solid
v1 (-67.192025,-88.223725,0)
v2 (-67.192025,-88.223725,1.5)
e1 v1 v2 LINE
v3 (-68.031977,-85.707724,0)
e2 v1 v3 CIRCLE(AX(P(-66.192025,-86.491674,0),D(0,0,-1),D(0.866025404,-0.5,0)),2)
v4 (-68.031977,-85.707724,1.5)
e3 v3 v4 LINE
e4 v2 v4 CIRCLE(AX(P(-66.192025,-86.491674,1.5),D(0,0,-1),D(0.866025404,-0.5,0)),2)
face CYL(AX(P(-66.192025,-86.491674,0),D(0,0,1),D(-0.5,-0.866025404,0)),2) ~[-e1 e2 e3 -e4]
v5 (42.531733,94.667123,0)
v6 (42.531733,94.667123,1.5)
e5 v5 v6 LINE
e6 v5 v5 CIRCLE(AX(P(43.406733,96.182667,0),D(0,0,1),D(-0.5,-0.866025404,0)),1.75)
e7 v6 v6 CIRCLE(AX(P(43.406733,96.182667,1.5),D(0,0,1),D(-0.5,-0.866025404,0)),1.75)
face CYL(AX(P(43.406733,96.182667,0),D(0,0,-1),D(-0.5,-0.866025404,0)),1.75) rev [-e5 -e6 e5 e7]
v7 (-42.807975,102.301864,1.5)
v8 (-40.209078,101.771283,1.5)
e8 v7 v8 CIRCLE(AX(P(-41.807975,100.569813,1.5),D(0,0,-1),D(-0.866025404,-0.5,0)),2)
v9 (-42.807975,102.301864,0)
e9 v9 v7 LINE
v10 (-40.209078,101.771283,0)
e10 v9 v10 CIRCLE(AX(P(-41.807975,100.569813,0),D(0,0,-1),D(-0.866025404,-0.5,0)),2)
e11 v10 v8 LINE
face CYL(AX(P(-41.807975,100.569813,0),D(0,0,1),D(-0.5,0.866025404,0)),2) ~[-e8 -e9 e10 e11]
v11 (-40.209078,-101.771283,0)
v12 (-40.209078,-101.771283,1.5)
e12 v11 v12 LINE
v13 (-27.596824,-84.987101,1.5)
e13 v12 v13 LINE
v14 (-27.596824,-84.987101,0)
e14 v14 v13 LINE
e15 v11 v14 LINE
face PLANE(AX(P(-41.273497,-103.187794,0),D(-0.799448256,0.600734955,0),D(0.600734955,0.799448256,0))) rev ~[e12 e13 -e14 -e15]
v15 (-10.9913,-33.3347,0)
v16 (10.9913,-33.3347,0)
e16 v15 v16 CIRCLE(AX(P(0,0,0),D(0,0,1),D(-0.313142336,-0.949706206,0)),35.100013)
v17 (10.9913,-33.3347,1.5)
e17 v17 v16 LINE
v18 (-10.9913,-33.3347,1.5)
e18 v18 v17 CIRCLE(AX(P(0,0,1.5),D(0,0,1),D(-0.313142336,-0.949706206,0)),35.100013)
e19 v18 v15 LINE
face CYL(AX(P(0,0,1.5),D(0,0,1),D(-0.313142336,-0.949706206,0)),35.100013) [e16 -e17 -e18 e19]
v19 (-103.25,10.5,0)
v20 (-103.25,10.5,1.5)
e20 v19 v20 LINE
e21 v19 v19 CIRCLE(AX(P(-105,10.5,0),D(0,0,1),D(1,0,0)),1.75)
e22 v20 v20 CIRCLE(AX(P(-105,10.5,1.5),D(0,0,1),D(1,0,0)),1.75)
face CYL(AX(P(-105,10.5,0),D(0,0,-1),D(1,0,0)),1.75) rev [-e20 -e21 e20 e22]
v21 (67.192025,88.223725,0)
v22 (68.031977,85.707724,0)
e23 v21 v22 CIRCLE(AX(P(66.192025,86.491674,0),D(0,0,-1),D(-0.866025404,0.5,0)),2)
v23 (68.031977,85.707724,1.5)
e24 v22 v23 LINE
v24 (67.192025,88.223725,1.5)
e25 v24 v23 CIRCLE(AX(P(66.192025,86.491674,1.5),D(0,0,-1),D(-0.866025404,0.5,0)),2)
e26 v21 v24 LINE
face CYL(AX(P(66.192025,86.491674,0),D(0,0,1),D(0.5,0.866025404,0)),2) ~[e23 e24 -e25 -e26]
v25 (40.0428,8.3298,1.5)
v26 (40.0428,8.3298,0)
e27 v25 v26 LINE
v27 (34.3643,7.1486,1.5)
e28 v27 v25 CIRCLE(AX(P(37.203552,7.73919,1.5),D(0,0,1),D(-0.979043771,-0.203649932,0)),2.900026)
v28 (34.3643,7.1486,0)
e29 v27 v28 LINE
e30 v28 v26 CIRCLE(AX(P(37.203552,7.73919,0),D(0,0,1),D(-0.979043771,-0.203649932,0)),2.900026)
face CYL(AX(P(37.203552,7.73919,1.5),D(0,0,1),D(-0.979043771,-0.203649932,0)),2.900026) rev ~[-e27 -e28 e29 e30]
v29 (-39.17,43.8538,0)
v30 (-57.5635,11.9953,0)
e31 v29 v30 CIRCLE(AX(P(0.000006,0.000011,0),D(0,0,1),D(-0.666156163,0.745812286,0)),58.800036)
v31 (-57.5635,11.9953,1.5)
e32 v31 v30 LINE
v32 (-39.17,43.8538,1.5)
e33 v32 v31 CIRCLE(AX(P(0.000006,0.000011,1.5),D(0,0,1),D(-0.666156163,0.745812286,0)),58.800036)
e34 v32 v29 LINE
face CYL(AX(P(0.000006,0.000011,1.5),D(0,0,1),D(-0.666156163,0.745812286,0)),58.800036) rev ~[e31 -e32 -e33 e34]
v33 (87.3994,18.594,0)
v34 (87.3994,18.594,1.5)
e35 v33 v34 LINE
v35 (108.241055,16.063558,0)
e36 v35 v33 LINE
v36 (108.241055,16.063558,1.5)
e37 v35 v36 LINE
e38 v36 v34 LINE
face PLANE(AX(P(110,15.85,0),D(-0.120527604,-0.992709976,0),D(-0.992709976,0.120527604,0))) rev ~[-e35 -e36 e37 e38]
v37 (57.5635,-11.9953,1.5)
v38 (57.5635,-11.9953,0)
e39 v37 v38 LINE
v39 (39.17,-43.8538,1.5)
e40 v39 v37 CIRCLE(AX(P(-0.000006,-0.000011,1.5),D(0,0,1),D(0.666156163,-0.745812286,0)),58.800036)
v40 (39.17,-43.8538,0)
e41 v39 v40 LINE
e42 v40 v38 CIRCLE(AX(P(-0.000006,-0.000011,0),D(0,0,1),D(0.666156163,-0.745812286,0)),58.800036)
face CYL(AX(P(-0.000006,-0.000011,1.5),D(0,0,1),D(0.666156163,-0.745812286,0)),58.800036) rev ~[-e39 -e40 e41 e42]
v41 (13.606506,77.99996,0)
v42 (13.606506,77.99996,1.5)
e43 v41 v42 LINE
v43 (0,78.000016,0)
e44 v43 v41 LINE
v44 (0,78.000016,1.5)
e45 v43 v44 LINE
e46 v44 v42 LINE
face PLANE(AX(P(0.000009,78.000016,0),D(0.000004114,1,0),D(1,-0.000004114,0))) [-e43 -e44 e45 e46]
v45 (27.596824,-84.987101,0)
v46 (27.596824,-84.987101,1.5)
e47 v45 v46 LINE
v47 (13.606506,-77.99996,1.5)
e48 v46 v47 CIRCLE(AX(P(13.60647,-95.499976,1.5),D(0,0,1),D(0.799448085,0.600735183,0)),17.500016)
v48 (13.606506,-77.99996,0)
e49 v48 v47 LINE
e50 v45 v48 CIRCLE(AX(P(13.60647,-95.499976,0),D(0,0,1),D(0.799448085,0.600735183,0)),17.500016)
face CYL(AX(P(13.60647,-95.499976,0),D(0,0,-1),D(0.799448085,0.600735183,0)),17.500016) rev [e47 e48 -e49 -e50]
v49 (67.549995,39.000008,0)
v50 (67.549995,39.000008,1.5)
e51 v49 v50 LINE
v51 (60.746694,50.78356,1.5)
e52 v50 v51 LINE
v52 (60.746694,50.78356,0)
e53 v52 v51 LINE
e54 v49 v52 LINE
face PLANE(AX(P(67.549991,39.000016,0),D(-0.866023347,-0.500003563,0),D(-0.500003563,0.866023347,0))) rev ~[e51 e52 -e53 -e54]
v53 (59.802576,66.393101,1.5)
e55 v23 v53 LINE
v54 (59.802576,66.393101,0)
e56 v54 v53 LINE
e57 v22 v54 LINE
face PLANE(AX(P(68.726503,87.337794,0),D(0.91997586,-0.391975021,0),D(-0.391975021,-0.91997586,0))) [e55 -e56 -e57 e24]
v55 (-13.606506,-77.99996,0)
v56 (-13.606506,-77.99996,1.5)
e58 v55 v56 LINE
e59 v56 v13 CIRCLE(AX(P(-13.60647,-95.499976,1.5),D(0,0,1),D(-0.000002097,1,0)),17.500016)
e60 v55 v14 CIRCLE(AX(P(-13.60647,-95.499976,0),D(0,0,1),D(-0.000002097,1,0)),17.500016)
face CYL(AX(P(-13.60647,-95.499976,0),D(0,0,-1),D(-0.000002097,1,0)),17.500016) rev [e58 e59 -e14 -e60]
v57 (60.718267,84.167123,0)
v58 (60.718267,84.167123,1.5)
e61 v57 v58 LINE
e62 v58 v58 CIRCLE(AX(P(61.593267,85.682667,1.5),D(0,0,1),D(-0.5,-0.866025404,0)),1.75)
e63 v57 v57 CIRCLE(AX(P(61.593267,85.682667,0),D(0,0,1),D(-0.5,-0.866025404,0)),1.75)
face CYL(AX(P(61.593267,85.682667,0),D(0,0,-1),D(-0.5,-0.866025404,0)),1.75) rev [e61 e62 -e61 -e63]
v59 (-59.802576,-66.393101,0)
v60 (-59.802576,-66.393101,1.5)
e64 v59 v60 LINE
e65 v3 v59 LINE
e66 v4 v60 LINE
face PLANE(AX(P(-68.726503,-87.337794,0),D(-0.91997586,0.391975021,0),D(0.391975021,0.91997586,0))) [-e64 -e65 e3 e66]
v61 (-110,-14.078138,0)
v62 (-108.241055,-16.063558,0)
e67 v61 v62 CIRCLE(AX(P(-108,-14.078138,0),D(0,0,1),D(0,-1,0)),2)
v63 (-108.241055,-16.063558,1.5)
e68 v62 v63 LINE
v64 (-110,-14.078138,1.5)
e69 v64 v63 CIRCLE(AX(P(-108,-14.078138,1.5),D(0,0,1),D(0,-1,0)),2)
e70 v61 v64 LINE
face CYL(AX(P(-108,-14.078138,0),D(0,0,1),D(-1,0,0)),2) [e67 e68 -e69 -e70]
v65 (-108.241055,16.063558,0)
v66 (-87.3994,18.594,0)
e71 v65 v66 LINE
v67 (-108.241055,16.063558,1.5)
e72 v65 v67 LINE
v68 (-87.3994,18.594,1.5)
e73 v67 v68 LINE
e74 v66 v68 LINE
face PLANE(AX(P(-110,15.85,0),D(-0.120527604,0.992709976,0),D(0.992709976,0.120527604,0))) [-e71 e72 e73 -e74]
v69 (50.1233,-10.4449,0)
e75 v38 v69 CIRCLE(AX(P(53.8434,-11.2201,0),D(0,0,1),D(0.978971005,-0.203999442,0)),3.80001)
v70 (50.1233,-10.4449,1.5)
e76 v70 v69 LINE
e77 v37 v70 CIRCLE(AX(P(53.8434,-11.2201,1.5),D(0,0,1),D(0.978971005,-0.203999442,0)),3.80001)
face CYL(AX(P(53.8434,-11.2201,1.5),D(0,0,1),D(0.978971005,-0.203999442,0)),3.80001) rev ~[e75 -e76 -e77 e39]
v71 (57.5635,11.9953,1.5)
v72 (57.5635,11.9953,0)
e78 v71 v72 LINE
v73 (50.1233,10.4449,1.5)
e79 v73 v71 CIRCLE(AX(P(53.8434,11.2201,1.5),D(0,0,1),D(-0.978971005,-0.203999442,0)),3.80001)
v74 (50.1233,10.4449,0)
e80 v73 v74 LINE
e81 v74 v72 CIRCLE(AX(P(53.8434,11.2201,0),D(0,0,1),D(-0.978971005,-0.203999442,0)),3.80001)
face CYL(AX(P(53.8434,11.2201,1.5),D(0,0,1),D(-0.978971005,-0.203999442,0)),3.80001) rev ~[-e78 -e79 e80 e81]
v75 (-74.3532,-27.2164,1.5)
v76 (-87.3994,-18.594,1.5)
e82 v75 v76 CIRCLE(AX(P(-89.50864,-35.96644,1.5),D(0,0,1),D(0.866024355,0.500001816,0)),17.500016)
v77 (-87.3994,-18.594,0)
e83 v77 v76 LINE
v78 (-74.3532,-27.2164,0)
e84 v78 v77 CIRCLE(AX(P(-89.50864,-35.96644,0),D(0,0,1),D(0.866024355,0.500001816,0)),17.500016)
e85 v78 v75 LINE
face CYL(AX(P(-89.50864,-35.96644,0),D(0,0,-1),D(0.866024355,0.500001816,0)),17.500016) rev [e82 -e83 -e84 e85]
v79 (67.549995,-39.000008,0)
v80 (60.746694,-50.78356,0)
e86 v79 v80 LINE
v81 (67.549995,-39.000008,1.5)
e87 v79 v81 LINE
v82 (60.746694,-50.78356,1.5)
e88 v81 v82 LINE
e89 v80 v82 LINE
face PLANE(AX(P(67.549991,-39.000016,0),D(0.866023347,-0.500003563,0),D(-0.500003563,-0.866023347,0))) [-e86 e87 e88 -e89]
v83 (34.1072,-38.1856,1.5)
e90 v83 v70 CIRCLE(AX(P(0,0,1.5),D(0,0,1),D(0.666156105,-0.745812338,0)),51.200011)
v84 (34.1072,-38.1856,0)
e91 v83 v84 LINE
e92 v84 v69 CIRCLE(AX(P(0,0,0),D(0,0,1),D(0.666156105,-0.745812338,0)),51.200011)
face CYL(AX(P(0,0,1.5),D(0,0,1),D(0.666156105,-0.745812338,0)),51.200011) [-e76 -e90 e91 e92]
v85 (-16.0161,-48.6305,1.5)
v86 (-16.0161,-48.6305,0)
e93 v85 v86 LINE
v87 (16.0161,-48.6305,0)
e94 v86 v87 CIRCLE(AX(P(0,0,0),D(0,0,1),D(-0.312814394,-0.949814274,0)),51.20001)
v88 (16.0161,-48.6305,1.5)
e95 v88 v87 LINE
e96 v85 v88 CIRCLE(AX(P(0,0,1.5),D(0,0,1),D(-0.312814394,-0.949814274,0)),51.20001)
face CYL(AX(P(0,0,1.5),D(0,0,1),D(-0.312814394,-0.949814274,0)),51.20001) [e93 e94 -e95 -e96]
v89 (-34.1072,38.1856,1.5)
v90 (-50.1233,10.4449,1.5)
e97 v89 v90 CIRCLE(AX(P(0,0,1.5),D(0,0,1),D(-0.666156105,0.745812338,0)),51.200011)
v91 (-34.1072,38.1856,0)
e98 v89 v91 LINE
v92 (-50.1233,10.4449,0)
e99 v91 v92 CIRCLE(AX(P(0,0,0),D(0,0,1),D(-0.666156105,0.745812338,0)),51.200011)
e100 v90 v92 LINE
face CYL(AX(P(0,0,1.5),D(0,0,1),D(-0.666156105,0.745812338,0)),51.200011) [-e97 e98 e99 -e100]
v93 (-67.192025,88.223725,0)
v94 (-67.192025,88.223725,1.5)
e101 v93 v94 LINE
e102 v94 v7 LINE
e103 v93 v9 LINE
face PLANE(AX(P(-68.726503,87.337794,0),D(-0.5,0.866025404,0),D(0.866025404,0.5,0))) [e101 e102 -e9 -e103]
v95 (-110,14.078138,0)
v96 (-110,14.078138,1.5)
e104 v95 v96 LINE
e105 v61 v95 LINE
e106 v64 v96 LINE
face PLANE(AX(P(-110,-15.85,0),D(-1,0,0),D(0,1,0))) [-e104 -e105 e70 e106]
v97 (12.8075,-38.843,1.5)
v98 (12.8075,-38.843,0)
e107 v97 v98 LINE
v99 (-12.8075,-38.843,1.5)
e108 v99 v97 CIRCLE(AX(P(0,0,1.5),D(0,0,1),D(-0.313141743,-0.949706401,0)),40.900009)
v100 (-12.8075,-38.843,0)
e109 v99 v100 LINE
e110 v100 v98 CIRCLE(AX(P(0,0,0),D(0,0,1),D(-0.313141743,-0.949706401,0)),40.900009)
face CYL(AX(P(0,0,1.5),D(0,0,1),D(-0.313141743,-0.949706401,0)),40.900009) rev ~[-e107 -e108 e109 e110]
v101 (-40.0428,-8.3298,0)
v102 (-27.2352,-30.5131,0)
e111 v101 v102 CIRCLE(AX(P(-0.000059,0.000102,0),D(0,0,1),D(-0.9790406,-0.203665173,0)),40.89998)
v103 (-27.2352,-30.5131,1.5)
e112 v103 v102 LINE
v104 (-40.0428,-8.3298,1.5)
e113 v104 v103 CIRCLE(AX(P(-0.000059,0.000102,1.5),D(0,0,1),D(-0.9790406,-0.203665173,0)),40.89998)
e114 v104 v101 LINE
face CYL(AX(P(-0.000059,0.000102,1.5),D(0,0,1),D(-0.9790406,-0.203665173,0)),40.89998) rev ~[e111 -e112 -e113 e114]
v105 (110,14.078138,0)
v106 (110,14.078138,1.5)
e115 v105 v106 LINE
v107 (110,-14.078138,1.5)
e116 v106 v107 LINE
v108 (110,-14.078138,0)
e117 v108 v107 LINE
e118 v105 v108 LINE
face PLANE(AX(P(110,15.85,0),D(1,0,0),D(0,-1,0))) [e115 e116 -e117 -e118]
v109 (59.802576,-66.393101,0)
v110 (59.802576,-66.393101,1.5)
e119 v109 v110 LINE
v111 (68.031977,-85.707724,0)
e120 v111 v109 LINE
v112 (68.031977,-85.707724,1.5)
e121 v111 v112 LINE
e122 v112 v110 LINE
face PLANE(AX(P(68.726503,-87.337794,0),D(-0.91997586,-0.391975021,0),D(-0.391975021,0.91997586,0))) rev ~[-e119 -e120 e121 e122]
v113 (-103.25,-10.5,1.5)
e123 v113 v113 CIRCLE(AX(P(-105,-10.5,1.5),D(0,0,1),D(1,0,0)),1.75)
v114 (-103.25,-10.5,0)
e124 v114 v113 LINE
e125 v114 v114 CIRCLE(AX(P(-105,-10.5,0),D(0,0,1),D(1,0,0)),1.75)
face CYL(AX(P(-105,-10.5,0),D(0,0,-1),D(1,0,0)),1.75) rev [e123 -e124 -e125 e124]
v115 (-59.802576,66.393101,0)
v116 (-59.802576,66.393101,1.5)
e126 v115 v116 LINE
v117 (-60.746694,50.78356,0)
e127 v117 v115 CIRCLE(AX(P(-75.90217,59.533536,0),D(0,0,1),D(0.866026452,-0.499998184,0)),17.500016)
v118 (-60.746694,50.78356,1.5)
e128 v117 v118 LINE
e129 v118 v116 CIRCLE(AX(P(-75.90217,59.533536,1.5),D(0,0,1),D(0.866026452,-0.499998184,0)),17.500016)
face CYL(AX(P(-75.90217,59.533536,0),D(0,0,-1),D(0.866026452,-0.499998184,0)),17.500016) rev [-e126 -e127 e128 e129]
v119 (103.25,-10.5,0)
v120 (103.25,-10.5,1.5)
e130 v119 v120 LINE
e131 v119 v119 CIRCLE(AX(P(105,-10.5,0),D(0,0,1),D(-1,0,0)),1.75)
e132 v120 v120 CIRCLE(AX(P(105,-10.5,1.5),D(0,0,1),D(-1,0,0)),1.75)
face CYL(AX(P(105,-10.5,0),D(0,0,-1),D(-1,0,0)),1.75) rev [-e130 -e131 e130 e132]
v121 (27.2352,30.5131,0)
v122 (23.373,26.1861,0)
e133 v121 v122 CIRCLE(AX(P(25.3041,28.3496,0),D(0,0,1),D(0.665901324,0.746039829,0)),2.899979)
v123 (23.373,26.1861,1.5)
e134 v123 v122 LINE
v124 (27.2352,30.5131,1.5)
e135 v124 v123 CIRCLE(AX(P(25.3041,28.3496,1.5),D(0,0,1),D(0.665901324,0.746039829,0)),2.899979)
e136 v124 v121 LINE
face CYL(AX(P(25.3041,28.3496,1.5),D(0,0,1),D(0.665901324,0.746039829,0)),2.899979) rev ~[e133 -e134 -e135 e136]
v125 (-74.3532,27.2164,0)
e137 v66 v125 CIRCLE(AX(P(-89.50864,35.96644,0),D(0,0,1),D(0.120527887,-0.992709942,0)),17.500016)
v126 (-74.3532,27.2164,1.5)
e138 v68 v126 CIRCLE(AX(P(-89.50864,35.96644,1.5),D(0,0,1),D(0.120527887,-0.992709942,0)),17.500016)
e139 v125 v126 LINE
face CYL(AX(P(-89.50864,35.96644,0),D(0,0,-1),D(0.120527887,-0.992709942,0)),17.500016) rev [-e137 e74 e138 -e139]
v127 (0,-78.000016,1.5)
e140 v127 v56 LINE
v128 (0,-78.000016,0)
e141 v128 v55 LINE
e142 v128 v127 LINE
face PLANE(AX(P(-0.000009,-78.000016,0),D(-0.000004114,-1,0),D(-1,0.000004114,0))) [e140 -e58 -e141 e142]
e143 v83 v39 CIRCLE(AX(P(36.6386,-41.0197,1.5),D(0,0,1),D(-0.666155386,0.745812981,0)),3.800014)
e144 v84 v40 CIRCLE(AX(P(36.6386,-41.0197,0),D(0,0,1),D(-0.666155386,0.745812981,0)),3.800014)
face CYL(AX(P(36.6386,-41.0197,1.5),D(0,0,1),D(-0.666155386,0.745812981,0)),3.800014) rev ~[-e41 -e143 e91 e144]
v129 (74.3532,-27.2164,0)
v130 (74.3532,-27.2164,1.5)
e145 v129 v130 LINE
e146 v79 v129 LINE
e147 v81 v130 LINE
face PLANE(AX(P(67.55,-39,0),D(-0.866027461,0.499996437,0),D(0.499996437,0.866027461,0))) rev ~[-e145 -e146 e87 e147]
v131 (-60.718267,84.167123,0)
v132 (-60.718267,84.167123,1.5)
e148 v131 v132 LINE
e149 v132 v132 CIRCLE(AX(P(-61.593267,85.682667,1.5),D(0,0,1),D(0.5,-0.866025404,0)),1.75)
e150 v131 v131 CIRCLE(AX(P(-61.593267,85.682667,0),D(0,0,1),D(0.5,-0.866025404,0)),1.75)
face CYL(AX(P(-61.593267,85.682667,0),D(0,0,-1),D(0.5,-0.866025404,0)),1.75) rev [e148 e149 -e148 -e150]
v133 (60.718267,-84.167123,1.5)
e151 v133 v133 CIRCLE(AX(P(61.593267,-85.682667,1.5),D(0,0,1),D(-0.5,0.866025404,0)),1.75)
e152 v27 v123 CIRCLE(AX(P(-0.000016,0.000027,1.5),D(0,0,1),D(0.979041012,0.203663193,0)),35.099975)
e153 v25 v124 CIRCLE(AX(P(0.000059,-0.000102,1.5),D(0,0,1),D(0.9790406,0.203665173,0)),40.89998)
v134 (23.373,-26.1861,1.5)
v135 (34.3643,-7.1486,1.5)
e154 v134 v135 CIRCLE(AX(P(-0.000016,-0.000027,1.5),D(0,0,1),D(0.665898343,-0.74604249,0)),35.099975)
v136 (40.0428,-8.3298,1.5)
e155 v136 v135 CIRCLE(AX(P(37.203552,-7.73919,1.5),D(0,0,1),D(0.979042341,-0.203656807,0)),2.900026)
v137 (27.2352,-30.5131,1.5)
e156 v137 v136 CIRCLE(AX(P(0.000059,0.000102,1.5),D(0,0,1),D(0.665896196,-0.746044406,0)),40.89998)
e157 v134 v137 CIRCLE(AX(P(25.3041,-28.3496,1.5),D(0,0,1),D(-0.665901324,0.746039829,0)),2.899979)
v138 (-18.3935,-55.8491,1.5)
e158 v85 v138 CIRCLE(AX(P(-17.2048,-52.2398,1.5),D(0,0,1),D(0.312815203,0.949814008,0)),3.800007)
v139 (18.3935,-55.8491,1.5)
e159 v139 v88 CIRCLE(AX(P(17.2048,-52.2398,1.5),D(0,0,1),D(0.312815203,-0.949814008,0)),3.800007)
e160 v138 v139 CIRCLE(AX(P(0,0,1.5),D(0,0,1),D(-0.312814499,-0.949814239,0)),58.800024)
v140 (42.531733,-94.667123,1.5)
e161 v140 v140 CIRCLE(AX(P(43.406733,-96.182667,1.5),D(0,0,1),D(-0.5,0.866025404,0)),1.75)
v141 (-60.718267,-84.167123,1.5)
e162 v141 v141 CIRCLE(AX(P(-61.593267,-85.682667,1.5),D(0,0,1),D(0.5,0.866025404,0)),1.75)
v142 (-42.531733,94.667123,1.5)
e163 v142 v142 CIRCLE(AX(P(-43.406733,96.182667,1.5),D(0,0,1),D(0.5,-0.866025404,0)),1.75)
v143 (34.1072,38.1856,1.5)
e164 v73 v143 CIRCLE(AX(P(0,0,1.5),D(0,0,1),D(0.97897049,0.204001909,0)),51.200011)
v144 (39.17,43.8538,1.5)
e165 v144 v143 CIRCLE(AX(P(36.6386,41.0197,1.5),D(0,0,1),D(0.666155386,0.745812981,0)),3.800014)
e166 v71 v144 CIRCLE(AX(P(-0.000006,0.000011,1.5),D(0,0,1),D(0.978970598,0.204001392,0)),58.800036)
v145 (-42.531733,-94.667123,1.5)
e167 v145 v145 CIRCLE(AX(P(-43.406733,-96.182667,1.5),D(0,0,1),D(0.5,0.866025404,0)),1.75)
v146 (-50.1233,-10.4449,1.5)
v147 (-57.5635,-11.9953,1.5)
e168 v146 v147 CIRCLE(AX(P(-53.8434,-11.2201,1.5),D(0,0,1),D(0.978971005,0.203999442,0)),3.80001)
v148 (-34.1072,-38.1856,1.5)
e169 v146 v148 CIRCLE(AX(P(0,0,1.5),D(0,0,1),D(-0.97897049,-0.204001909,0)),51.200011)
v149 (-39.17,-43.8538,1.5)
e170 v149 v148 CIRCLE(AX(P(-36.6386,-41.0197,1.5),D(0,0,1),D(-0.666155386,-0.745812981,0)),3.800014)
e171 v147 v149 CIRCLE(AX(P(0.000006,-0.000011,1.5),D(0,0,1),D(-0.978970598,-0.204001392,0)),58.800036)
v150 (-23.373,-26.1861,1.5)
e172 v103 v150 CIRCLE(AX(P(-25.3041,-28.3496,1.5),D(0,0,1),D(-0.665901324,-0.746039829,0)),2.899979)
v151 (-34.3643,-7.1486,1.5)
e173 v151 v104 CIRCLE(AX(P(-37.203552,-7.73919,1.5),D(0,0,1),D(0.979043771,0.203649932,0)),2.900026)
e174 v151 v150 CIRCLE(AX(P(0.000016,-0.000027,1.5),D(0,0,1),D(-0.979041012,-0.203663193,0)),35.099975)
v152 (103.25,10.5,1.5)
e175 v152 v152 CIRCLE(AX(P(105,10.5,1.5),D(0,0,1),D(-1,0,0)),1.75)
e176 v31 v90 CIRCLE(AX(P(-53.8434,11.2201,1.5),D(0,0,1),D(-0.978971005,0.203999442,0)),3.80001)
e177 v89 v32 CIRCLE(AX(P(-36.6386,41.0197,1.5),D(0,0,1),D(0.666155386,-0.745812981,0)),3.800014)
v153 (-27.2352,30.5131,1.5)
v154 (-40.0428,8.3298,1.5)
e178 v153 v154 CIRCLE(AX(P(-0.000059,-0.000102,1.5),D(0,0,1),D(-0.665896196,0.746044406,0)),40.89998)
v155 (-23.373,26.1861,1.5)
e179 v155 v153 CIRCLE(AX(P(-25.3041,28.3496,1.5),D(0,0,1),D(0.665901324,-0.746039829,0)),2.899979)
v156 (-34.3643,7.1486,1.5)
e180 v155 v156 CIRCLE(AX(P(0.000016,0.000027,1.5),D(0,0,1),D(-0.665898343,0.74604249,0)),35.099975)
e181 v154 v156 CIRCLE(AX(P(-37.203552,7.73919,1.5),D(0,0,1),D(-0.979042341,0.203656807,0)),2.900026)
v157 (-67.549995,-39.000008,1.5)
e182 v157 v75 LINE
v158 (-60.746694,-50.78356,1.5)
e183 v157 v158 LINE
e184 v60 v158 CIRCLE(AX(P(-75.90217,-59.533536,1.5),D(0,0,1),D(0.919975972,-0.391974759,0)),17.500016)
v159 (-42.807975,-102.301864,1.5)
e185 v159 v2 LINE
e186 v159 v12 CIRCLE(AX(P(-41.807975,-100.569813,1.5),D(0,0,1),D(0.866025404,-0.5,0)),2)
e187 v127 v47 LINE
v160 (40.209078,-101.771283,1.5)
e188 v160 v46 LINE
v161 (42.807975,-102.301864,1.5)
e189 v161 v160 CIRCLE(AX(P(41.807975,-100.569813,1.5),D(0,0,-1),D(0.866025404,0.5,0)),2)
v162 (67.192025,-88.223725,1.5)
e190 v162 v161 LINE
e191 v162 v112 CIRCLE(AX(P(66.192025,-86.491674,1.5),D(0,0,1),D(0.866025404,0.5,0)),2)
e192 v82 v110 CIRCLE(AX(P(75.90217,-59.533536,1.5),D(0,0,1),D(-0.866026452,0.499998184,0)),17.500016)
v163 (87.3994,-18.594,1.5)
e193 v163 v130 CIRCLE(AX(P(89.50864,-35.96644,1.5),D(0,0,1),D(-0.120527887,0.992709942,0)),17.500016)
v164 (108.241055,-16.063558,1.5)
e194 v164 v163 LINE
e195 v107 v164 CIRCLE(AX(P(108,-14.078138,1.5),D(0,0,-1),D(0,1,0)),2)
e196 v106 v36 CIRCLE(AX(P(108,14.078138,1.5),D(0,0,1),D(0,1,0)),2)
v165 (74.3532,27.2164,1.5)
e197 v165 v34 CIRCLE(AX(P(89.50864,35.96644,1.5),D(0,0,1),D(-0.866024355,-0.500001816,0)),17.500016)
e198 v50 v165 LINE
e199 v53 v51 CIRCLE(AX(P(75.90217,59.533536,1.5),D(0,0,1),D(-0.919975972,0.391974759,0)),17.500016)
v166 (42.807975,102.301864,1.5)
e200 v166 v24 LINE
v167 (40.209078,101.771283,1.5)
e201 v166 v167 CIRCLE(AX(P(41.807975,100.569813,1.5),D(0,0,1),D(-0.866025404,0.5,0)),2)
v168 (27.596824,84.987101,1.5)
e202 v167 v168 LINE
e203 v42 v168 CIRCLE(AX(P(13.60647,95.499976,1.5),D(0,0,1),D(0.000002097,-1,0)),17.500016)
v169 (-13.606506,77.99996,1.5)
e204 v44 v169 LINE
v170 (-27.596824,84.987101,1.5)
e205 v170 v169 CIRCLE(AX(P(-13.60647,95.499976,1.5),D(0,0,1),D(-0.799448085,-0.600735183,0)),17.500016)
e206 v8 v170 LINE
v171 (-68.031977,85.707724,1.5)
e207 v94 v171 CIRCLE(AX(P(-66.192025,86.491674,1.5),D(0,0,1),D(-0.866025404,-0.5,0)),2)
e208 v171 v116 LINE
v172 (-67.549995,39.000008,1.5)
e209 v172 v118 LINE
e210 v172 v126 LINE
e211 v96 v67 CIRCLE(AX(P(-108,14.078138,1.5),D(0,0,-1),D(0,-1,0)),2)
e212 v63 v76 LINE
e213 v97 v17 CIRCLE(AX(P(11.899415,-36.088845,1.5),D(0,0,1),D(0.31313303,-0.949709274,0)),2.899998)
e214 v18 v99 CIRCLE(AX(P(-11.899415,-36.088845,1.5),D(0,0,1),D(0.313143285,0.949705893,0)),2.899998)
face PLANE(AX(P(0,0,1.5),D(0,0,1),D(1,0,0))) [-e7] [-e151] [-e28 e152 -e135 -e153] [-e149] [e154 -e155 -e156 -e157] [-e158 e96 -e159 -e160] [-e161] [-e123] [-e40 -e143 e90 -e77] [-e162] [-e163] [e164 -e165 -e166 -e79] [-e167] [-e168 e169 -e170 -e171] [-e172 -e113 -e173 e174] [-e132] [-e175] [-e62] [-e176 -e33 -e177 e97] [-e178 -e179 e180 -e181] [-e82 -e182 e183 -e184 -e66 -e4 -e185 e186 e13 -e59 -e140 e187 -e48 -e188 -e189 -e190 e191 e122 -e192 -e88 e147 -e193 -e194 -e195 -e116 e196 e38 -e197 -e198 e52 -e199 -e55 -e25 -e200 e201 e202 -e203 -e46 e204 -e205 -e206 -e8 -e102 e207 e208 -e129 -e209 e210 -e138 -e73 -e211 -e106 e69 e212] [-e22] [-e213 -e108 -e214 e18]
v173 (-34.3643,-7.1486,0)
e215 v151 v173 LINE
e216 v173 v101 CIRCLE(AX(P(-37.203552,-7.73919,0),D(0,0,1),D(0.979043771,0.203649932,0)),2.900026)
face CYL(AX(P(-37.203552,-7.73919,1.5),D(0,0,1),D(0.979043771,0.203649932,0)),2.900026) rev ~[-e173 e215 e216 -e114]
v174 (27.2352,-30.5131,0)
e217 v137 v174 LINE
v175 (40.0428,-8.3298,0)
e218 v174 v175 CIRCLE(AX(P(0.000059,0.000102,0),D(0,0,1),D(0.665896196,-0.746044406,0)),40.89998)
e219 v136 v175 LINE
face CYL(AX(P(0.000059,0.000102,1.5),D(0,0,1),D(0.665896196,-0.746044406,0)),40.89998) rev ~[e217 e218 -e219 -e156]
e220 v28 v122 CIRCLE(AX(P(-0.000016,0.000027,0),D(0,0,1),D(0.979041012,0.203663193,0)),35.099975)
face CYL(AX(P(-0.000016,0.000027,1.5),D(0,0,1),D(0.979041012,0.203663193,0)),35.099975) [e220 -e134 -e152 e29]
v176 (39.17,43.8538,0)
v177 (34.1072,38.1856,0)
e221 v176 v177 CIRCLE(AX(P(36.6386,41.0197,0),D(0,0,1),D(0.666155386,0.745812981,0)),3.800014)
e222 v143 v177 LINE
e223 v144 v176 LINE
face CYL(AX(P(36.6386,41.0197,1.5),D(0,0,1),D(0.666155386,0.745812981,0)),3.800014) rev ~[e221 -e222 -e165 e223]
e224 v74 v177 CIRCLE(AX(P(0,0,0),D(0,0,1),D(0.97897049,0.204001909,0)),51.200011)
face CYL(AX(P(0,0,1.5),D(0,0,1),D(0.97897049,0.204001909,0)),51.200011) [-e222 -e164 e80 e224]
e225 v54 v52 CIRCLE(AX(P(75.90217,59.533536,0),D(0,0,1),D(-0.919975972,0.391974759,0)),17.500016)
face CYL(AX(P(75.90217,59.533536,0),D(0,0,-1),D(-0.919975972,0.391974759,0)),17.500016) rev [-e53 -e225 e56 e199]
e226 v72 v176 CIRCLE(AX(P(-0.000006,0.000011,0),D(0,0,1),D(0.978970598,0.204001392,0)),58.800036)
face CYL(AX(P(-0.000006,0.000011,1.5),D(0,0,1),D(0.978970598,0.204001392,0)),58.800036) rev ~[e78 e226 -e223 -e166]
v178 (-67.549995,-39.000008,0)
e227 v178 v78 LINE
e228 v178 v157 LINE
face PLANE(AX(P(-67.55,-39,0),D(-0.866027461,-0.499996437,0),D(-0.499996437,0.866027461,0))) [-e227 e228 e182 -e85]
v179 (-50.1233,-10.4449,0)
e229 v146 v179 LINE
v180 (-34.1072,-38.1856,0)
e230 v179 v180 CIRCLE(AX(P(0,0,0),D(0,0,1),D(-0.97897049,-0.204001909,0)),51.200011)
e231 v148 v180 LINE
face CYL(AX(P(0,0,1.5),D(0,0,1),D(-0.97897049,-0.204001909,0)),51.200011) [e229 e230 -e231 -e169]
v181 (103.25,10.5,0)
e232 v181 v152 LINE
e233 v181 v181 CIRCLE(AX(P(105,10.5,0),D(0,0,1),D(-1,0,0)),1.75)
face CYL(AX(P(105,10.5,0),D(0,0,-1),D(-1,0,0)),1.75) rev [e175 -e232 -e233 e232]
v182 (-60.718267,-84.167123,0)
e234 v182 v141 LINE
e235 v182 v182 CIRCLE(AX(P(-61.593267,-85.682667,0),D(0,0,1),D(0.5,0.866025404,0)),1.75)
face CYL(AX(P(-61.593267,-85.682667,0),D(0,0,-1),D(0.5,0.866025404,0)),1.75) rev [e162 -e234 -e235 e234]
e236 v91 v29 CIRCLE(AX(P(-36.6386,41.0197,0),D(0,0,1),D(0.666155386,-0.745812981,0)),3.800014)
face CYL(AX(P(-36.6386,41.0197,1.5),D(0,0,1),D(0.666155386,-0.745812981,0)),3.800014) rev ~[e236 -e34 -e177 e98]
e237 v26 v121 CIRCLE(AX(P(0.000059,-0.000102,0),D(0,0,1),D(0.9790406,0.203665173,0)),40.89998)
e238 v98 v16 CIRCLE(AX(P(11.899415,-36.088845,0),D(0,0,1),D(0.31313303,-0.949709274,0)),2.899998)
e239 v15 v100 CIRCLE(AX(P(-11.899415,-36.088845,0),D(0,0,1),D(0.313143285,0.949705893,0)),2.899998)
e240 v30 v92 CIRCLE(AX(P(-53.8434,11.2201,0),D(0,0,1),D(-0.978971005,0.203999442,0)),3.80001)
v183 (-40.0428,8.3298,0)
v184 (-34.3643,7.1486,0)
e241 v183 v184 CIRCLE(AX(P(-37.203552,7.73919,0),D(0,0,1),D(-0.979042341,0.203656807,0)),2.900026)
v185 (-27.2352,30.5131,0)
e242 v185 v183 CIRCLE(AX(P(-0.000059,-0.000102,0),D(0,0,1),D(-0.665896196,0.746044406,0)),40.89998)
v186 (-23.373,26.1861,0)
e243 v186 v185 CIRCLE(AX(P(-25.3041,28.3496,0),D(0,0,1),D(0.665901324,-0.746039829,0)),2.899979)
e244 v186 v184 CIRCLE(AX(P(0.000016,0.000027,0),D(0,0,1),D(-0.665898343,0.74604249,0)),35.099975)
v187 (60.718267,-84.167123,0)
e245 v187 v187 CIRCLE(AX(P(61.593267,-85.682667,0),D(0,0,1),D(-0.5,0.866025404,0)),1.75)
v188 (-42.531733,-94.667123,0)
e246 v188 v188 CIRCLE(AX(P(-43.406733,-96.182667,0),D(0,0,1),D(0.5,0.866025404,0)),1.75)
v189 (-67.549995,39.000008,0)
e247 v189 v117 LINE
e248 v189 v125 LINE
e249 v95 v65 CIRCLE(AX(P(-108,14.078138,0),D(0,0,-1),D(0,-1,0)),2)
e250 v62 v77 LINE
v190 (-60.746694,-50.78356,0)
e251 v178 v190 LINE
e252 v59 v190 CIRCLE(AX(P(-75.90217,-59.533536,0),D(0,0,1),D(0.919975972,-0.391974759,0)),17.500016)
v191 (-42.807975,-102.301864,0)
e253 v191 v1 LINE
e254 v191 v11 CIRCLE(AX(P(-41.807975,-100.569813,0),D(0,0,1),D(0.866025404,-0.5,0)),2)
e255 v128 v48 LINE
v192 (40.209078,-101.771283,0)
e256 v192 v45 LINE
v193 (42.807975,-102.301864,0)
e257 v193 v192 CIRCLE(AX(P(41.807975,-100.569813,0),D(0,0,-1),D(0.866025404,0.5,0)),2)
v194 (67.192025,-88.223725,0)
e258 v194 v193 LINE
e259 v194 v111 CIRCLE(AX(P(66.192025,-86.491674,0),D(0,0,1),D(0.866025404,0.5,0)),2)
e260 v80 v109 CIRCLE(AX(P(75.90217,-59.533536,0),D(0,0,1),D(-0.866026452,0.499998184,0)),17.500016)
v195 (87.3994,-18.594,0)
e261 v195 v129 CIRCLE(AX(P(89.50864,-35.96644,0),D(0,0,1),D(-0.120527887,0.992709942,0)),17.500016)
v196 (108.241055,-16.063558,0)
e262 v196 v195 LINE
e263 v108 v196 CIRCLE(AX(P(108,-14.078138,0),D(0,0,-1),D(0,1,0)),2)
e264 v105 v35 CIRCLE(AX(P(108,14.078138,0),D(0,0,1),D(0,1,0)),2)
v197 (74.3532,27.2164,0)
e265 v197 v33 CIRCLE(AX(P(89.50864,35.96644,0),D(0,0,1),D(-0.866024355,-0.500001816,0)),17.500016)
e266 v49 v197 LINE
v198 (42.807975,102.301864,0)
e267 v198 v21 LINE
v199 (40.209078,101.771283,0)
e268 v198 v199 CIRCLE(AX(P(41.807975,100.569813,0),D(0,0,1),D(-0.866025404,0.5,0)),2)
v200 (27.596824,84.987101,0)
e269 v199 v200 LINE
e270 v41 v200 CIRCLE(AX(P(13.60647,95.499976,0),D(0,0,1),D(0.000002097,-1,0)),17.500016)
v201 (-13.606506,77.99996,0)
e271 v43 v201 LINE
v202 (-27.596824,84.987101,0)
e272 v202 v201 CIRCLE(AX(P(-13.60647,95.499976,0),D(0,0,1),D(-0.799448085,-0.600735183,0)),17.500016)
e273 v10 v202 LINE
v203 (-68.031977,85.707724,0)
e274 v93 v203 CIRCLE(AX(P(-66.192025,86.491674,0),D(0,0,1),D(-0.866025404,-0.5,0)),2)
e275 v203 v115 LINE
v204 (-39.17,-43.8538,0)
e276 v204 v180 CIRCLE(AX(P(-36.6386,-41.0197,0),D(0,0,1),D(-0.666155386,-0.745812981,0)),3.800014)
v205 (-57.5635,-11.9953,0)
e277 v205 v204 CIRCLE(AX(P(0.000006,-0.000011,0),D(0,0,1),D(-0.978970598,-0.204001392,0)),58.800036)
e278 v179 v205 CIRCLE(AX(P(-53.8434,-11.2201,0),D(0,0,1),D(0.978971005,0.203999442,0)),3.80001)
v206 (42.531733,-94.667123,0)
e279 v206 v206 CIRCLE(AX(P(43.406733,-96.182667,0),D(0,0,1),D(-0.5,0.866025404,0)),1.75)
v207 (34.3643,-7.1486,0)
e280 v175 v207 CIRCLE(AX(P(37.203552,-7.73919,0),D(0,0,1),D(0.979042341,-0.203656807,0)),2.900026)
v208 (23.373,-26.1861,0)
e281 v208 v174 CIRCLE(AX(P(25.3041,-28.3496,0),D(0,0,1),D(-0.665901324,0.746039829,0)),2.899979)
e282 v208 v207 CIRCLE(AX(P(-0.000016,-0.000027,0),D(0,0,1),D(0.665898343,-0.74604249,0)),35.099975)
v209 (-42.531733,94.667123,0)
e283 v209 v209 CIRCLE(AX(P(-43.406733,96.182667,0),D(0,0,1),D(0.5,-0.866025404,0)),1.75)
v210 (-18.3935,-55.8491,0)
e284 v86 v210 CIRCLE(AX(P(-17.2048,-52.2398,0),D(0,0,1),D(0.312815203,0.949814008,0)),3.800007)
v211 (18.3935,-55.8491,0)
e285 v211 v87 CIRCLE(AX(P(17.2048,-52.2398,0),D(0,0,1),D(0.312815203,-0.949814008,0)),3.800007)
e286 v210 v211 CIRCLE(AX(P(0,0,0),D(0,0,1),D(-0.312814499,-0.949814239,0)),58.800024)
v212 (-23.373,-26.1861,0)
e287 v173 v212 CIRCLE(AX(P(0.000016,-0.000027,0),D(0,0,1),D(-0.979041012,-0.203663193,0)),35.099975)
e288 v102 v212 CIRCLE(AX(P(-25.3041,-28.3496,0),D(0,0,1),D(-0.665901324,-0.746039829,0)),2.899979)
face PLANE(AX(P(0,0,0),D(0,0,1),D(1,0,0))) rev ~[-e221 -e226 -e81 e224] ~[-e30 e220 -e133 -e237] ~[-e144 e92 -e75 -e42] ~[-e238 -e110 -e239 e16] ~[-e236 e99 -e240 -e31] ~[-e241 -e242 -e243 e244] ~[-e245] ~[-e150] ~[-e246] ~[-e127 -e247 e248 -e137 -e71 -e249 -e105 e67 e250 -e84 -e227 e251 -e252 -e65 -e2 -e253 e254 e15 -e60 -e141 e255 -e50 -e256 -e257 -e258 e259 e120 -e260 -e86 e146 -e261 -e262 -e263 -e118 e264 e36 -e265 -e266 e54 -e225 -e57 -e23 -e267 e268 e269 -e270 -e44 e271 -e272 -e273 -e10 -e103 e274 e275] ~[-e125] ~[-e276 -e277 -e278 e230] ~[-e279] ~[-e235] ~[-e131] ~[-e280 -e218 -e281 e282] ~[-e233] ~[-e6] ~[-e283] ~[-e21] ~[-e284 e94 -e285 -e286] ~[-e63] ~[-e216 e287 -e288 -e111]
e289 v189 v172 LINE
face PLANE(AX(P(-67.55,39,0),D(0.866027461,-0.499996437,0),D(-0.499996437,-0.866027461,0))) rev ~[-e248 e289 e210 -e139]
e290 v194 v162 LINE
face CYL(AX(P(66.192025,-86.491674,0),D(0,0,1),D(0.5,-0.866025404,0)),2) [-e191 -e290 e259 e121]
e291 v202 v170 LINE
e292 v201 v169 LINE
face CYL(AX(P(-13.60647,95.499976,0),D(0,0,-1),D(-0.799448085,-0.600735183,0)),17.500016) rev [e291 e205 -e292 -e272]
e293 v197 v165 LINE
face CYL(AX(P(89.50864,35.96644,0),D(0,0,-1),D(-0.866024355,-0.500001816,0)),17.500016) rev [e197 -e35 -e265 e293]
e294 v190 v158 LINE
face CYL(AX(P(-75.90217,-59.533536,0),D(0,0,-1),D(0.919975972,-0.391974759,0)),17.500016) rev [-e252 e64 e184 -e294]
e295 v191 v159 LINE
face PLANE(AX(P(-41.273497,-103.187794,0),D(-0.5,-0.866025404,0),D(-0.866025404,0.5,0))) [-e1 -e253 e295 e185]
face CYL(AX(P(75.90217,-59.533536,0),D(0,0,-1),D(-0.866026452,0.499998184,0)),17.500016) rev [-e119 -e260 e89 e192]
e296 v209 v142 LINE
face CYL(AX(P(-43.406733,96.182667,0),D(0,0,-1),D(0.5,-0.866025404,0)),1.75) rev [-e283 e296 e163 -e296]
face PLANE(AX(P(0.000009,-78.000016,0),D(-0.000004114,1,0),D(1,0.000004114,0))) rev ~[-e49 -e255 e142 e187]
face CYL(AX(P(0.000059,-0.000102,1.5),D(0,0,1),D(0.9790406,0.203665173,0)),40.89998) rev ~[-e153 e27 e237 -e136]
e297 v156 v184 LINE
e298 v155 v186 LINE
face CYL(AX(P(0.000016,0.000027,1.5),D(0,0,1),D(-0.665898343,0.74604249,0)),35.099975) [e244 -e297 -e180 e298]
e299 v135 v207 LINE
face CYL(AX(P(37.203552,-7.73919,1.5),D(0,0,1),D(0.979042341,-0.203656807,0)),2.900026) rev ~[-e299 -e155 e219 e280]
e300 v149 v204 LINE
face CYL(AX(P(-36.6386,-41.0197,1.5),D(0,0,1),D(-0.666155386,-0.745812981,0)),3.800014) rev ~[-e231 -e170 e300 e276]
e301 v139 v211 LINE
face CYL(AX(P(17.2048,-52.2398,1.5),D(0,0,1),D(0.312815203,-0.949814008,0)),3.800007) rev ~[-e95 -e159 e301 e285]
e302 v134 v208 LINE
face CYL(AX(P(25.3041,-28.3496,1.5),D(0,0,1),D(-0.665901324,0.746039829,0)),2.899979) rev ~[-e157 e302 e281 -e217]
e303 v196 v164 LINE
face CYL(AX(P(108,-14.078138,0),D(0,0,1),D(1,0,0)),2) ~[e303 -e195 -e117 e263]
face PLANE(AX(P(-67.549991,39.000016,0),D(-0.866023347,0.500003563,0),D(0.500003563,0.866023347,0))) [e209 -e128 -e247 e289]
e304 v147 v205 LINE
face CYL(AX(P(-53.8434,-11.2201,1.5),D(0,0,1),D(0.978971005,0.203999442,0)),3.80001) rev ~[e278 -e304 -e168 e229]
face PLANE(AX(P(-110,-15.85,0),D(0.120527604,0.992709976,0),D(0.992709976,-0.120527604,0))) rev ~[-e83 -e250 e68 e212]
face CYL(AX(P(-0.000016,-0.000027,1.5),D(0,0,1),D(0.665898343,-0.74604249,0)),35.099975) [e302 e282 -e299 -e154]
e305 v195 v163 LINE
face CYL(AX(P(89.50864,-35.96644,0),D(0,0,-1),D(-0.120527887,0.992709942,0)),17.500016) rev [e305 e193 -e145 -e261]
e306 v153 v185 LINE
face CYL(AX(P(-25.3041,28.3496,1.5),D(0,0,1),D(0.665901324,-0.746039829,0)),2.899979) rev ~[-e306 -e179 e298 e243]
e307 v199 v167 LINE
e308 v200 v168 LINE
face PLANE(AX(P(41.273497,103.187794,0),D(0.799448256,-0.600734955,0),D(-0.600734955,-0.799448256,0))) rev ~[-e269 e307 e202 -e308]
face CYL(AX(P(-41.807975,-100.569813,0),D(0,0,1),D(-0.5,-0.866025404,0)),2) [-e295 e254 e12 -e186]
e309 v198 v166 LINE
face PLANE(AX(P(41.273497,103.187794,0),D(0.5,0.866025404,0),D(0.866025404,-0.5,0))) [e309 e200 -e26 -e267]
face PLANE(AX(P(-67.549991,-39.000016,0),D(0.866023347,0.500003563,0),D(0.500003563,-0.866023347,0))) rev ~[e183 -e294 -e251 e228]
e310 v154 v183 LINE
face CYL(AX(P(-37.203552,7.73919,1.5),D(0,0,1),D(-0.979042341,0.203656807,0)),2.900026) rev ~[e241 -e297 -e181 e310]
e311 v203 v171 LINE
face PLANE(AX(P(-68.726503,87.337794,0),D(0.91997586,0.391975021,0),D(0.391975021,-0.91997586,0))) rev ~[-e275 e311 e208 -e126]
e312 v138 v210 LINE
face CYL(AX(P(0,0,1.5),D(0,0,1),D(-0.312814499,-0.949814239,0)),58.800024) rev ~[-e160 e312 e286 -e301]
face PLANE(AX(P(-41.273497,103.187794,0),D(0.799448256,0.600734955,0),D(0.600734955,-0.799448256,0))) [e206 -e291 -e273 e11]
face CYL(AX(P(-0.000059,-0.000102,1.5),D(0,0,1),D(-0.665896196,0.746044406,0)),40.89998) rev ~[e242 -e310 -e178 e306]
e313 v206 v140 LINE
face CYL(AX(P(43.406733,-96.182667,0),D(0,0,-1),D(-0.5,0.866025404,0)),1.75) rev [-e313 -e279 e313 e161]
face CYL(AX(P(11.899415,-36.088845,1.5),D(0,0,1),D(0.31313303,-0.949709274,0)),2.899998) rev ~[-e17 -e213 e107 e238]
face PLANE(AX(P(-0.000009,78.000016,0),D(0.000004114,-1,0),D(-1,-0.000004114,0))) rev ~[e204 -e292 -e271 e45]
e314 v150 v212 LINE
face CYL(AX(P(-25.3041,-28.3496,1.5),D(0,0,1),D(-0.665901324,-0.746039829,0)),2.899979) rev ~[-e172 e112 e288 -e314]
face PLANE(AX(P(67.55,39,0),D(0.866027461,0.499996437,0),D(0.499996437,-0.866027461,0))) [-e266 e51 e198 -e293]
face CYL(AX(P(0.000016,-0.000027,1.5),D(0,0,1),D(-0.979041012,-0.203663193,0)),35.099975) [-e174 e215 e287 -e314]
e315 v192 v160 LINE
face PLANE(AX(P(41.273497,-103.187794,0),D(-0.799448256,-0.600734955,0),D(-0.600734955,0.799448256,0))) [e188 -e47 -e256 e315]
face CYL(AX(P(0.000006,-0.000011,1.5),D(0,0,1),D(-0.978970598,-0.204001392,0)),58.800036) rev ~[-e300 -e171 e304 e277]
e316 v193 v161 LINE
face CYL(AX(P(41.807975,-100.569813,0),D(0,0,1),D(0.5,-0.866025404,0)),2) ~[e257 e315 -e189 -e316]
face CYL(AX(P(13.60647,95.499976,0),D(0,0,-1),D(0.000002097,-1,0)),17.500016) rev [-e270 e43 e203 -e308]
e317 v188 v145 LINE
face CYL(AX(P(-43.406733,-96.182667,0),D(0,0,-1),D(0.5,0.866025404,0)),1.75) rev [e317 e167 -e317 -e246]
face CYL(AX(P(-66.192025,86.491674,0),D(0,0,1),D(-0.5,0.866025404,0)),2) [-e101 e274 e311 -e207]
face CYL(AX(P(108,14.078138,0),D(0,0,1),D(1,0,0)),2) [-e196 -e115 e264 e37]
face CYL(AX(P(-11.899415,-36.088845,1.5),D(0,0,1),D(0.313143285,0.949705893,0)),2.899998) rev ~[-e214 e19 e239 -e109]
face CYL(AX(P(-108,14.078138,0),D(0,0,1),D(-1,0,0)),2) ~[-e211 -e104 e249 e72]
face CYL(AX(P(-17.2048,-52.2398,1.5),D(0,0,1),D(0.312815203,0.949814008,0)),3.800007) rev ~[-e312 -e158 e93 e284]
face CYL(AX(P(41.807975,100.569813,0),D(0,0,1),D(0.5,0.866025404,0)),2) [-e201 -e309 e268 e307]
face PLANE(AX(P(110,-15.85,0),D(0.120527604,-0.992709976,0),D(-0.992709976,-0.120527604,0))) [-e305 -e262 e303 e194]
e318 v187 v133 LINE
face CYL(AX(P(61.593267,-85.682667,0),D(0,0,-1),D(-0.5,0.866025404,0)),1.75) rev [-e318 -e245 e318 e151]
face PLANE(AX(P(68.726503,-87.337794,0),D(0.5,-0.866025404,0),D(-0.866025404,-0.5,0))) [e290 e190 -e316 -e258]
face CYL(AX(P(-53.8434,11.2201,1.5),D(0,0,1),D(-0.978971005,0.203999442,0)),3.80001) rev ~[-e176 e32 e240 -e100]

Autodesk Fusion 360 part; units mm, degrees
sketch "Sketch1" plane through (0, 0, 0) normal (0, 0, 1) x (1, 0, 0)
  circle A0 centre (0, 0) radius 275 construction
  line L0 (-110, -15.85) -> (-110, 15.85)
  circle A1 centre (-105, 10.5) radius 1.75
  circle A2 centre (-105, -10.5) radius 1.75
  line L1 (-105, 10.5) -> (-105, -10.5) construction
  line L2 (0, 0) -> (-67.55, 39)
  line L3 (0, 0) -> (-67.55, -39)
  line L4 (0, 0) -> (-105, 0) construction
  line L5 (-110, -15.85) -> (-87.3994, -18.594)
  line L6 (-67.55, -39) -> (-74.3532, -27.2164)
  arc A3 (-74.3532, -27.2164) -> (-87.3994, -18.594) centre (-89.5087, -35.9664) ccw
  line L7 (-110, 15.85) -> (-87.3994, 18.594)
  arc A4 (-87.3994, 18.594) -> (-74.3532, 27.2164) centre (-89.5087, 35.9664) ccw
  line L8 (-67.55, 39) -> (-74.3532, 27.2164)
  point P0 (-110, 0)
  point P1 (-105, 0)
  point P2 (-275, 0)
  point P3 (-107, -10)
  point P4 (-107, 10)
  point P5 (-107, 0)
  dimension "d1" = 550
  dimension "d2" = 21
  dimension "d3" = 5
  dimension "d5" = 170
  dimension "d6" = 3.5
  dimension "d7" = 31.7
  dimension "d8" = 30
  dimension "d9" = 30
  dimension "d10" = 78
  dimension "d13" = 20
  dimension "d30" = 105
  dimension "d56" = 17.5
extrude "Extrude1" add sketch "Sketch1" along normal blind 1.5 makes body 1
fillet "Fillet1" radius 2 2 edges at (-110, 15.85, 0.75) (-110, -15.85, 0.75) on bodies 1
pattern_circular "C-Pattern1" count 6 over 360 about axis through (0, 0, 1.75) along (0, 0, 1) of bodies 1 makes body 2 at (-25.2134, -43.671, 0) makes body 3 at (25.2134, -43.671, 0) makes body 4 at (50.4269, 0, 0) makes body 5 at (25.2134, 43.671, 0) makes body 6 at (-25.2134, 43.671, 0)
combine "Combine1" operation add target body 1 tool bodies 2 3 4 5 6
sketch "Sketch3" plane through (0, 0, 1.5) normal (0, 0, 1) x (-1, 0, 0)
  circle A0 centre (61.5933, -85.6827) radius 1.75
  circle A1 centre (43.4067, -96.1827) radius 1.75
  circle A2 centre (-43.4067, -96.1827) radius 1.75
  circle A3 centre (-61.5933, -85.6827) radius 1.75
  circle A4 centre (-105, -10.5) radius 1.75
  circle A5 centre (-105, 10.5) radius 1.75
  circle A6 centre (-61.5933, 85.6827) radius 1.75
  circle A7 centre (-43.4067, 96.1827) radius 1.75
  circle A8 centre (43.4067, 96.1827) radius 1.75
  circle A9 centre (61.5933, 85.6827) radius 1.75
  arc A10 (110, 14.0781) -> (108.2411, 16.0636) centre (108, 14.0781) ccw
  line L0 (108.2411, 16.0636) -> (87.3994, 18.594)
  arc A11 (74.3532, 27.2164) -> (87.3994, 18.594) centre (89.5087, 35.9664) ccw
  arc A12 (59.8026, 66.3931) -> (60.7467, 50.7836) centre (75.9022, 59.5336) ccw
  line L1 (59.8026, 66.3931) -> (68.032, 85.7077)
  arc A13 (68.032, 85.7077) -> (67.192, 88.2237) centre (66.192, 86.4917) ccw
  line L2 (67.192, 88.2237) -> (42.808, 102.3019)
  arc A14 (42.808, 102.3019) -> (40.2091, 101.7713) centre (41.808, 100.5698) ccw
  line L3 (40.2091, 101.7713) -> (27.5968, 84.9871)
  arc A15 (13.6065, 78) -> (27.5968, 84.9871) centre (13.6065, 95.5) ccw
  line L4 (13.6065, 78) -> (-13.6065, 78)
  arc A16 (-27.5968, 84.9871) -> (-13.6065, 78) centre (-13.6065, 95.5) ccw
  line L5 (-27.5968, 84.9871) -> (-40.2091, 101.7713)
  arc A17 (-40.2091, 101.7713) -> (-42.808, 102.3019) centre (-41.808, 100.5698) ccw
  line L6 (-42.808, 102.3019) -> (-67.192, 88.2237)
  arc A18 (-67.192, 88.2237) -> (-68.032, 85.7077) centre (-66.192, 86.4917) ccw
  line L7 (-68.032, 85.7077) -> (-59.8026, 66.3931)
  arc A19 (-60.7467, 50.7836) -> (-59.8026, 66.3931) centre (-75.9022, 59.5336) ccw
  line L8 (-60.7467, 50.7836) -> (-74.3532, 27.2164)
  arc A20 (-87.3994, 18.594) -> (-74.3532, 27.2164) centre (-89.5087, 35.9664) ccw
  line L9 (-87.3994, 18.594) -> (-108.2411, 16.0636)
  arc A21 (-108.2411, 16.0636) -> (-110, 14.0781) centre (-108, 14.0781) ccw
  line L10 (-110, 14.0781) -> (-110, -14.0781)
  arc A22 (-110, -14.0781) -> (-108.2411, -16.0636) centre (-108, -14.0781) ccw
  line L11 (-108.2411, -16.0636) -> (-87.3994, -18.594)
  arc A23 (-74.3532, -27.2164) -> (-87.3994, -18.594) centre (-89.5087, -35.9664) ccw
  line L12 (-74.3532, -27.2164) -> (-60.7467, -50.7836)
  arc A24 (-59.8026, -66.3931) -> (-60.7467, -50.7836) centre (-75.9022, -59.5336) ccw
  line L13 (-59.8026, -66.3931) -> (-68.032, -85.7077)
  arc A25 (-68.032, -85.7077) -> (-67.192, -88.2237) centre (-66.192, -86.4917) ccw
  line L14 (-67.192, -88.2237) -> (-42.808, -102.3019)
  arc A26 (-42.808, -102.3019) -> (-40.2091, -101.7713) centre (-41.808, -100.5698) ccw
  line L15 (-40.2091, -101.7713) -> (-27.5968, -84.9871)
  arc A27 (-13.6065, -78) -> (-27.5968, -84.9871) centre (-13.6065, -95.5) ccw
  line L16 (-13.6065, -78) -> (13.6065, -78)
  arc A28 (27.5968, -84.9871) -> (13.6065, -78) centre (13.6065, -95.5) ccw
  line L17 (27.5968, -84.9871) -> (40.2091, -101.7713)
  arc A29 (40.2091, -101.7713) -> (42.808, -102.3019) centre (41.808, -100.5698) ccw
  line L18 (42.808, -102.3019) -> (67.192, -88.2237)
  arc A30 (67.192, -88.2237) -> (68.032, -85.7077) centre (66.192, -86.4917) ccw
  line L19 (68.032, -85.7077) -> (59.8026, -66.3931)
  arc A31 (60.7467, -50.7836) -> (59.8026, -66.3931) centre (75.9022, -59.5336) ccw
  arc A32 (87.3994, -18.594) -> (74.3532, -27.2164) centre (89.5087, -35.9664) ccw
  line L20 (87.3994, -18.594) -> (108.2411, -16.0636)
  arc A33 (108.2411, -16.0636) -> (110, -14.0781) centre (108, -14.0781) ccw
  line L21 (110, -14.0781) -> (110, 14.0781)
  circle A34 centre (105, -10.5) radius 1.75
  circle A35 centre (105, 10.5) radius 1.75
  arc A36 (27.2352, -30.5131) -> (40.0428, -8.3298) centre (0, 0) ccw
  arc A37 (23.373, -26.1861) -> (27.2352, -30.5131) centre (25.3041, -28.3496) ccw
  arc A38 (23.373, -26.1861) -> (34.3643, -7.1486) centre (0, 0) ccw
  arc A39 (40.0428, -8.3298) -> (34.3643, -7.1486) centre (37.2036, -7.7392) ccw
  arc A40 (25.3041, -28.3496) -> (37.2036, -7.7392) centre (0, 0) ccw construction
  arc A41 (39.17, -43.8538) -> (57.5635, -11.9953) centre (0, 0) ccw
  arc A42 (34.1072, -38.1856) -> (39.17, -43.8538) centre (36.6386, -41.0197) ccw
  arc A43 (34.1072, -38.1856) -> (50.1233, -10.4449) centre (0, 0) ccw
  arc A44 (57.5635, -11.9953) -> (50.1233, -10.4449) centre (53.8434, -11.2201) ccw
  arc A45 (36.6386, -41.0197) -> (53.8434, -11.2201) centre (0, 0) ccw construction
  line L22 (0, 0) -> (55, -95.2628) construction
  line L23 (0, 0) -> (110, 0) construction
  arc A46 (53.8434, 11.2201) -> (36.6386, 41.0197) centre (0, 0) ccw construction
  arc A47 (37.2036, 7.7392) -> (25.3041, 28.3496) centre (0, 0) ccw construction
  arc A48 (40.0428, 8.3298) -> (27.2352, 30.5131) centre (0, 0) ccw
  arc A49 (57.5635, 11.9953) -> (39.17, 43.8538) centre (0, 0) ccw
  arc A50 (34.3643, 7.1486) -> (23.373, 26.1861) centre (0, 0) ccw
  arc A51 (50.1233, 10.4449) -> (34.1072, 38.1856) centre (0, 0) ccw
  arc A52 (39.17, 43.8538) -> (34.1072, 38.1856) centre (36.6386, 41.0197) ccw
  arc A53 (50.1233, 10.4449) -> (57.5635, 11.9953) centre (53.8434, 11.2201) ccw
  arc A54 (27.2352, 30.5131) -> (23.373, 26.1861) centre (25.3041, 28.3496) ccw
  arc A55 (34.3643, 7.1486) -> (40.0428, 8.3298) centre (37.2036, 7.7392) ccw
  arc A56 (17.2048, 52.2398) -> (-17.2048, 52.2398) centre (0, 0) ccw construction
  arc A57 (11.8994, 36.0888) -> (-11.8994, 36.0888) centre (0, 0) ccw construction
  arc A58 (12.8075, 38.843) -> (-12.8075, 38.843) centre (0, 0) ccw
  arc A59 (18.3935, 55.8491) -> (-18.3935, 55.8491) centre (0, 0) ccw
  arc A60 (10.9913, 33.3347) -> (-10.9913, 33.3347) centre (0, 0) ccw
  arc A61 (16.0161, 48.6305) -> (-16.0161, 48.6305) centre (0, 0) ccw
  arc A62 (-18.3935, 55.8491) -> (-16.0161, 48.6305) centre (-17.2048, 52.2398) ccw
  arc A63 (16.0161, 48.6305) -> (18.3935, 55.8491) centre (17.2048, 52.2398) ccw
  arc A64 (-12.8075, 38.843) -> (-10.9913, 33.3347) centre (-11.8994, 36.0888) ccw
  arc A65 (10.9913, 33.3347) -> (12.8075, 38.843) centre (11.8994, 36.0888) ccw
  arc A66 (-36.6386, 41.0197) -> (-53.8434, 11.2201) centre (0, 0) ccw construction
  arc A67 (-25.3041, 28.3496) -> (-37.2036, 7.7392) centre (0, 0) ccw construction
  arc A68 (-27.2352, 30.5131) -> (-40.0428, 8.3298) centre (0, 0) ccw
  arc A69 (-39.17, 43.8538) -> (-57.5635, 11.9953) centre (0, 0) ccw
  arc A70 (-23.373, 26.1861) -> (-34.3643, 7.1486) centre (0, 0) ccw
  arc A71 (-34.1072, 38.1856) -> (-50.1233, 10.4449) centre (0, 0) ccw
  arc A72 (-57.5635, 11.9953) -> (-50.1233, 10.4449) centre (-53.8434, 11.2201) ccw
  arc A73 (-34.1072, 38.1856) -> (-39.17, 43.8538) centre (-36.6386, 41.0197) ccw
  arc A74 (-40.0428, 8.3298) -> (-34.3643, 7.1486) centre (-37.2036, 7.7392) ccw
  arc A75 (-23.373, 26.1861) -> (-27.2352, 30.5131) centre (-25.3041, 28.3496) ccw
  arc A76 (-53.8434, -11.2201) -> (-36.6386, -41.0197) centre (0, 0) ccw construction
  arc A77 (-37.2036, -7.7392) -> (-25.3041, -28.3496) centre (0, 0) ccw construction
  arc A78 (-40.0428, -8.3298) -> (-27.2352, -30.5131) centre (0, 0) ccw
  arc A79 (-57.5635, -11.9953) -> (-39.17, -43.8538) centre (0, 0) ccw
  arc A80 (-34.3643, -7.1486) -> (-23.373, -26.1861) centre (0, 0) ccw
  arc A81 (-50.1233, -10.4449) -> (-34.1072, -38.1856) centre (0, 0) ccw
  arc A82 (-39.17, -43.8538) -> (-34.1072, -38.1856) centre (-36.6386, -41.0197) ccw
  arc A83 (-50.1233, -10.4449) -> (-57.5635, -11.9953) centre (-53.8434, -11.2201) ccw
  arc A84 (-27.2352, -30.5131) -> (-23.373, -26.1861) centre (-25.3041, -28.3496) ccw
  arc A85 (-34.3643, -7.1486) -> (-40.0428, -8.3298) centre (-37.2036, -7.7392) ccw
  point P0 (33.8045, -43.5511)
  point P1 (54.6186, -7.5)
  point P2 (37.7942, -4.9)
  point P3 (23.1406, -30.2807)
  point P4 (54.6186, 7.5)
  point P5 (37.7942, 4.9)
  point P6 (74.3532, 27.2164)
  point P7 (23.1406, 30.2807)
  point P8 (33.8045, 43.5511)
  point P9 (20.8141, 51.0511)
  point P10 (14.6536, 35.1807)
  point P11 (13.6065, 78)
  point P12 (-14.6536, 35.1807)
  point P13 (-20.8141, 51.0511)
  point P14 (-33.8045, 43.5511)
  point P15 (-23.1406, 30.2807)
  point P16 (-60.7467, 50.7836)
  point P17 (-37.7942, 4.9)
  point P18 (-54.6186, 7.5)
  point P19 (-54.6186, -7.5)
  point P20 (-37.7942, -4.9)
  point P21 (-74.3532, -27.2164)
  point P22 (-23.1406, -30.2807)
  point P23 (-33.8045, -43.5511)
  dimension "d57" = 38
  dimension "d58" = 55
  dimension "d59" = 3.8
  dimension "d60" = 2.9
  dimension "d61" = 4.9
  dimension "d62" = 7.5
  dimension "d64" = 4.9
  dimension "d65" = 7.5
  dimension "d67" = 360
extrude "Extrude3" cut sketch "Sketch3" against normal through all contours A36 A37 A38 A39 | A41 A42 A43 A44 | A48 A50 A54 A55 | A49 A51 A52 A53 | A58 A60 A64 A65 | A59 A61 A62 A63 | A68 A70 A74 A75 | A69 A71 A72 A73 | A78 A80 A84 A85 | A79 A81 A82 A83 bodies 1
equation "d9 = d8"
equation "d10 = ( 156 / 2 ) * 1 mm"
equation "d57 = ( 76 / 2 ) * 1 mm"
equation "d58 = ( 110 / 2 ) * 1 mm"
equation "d59 = ( 7.6 / 2 ) * 1 mm"
equation "d60 = ( 5.8 / 2 ) * 1 mm"
equation "d61 = ( 9.8 / 2 ) * 1 mm"
equation "d62 = ( 15 / 2 ) * 1 mm"
equation "d64 = d61"
equation "d65 = d62"
